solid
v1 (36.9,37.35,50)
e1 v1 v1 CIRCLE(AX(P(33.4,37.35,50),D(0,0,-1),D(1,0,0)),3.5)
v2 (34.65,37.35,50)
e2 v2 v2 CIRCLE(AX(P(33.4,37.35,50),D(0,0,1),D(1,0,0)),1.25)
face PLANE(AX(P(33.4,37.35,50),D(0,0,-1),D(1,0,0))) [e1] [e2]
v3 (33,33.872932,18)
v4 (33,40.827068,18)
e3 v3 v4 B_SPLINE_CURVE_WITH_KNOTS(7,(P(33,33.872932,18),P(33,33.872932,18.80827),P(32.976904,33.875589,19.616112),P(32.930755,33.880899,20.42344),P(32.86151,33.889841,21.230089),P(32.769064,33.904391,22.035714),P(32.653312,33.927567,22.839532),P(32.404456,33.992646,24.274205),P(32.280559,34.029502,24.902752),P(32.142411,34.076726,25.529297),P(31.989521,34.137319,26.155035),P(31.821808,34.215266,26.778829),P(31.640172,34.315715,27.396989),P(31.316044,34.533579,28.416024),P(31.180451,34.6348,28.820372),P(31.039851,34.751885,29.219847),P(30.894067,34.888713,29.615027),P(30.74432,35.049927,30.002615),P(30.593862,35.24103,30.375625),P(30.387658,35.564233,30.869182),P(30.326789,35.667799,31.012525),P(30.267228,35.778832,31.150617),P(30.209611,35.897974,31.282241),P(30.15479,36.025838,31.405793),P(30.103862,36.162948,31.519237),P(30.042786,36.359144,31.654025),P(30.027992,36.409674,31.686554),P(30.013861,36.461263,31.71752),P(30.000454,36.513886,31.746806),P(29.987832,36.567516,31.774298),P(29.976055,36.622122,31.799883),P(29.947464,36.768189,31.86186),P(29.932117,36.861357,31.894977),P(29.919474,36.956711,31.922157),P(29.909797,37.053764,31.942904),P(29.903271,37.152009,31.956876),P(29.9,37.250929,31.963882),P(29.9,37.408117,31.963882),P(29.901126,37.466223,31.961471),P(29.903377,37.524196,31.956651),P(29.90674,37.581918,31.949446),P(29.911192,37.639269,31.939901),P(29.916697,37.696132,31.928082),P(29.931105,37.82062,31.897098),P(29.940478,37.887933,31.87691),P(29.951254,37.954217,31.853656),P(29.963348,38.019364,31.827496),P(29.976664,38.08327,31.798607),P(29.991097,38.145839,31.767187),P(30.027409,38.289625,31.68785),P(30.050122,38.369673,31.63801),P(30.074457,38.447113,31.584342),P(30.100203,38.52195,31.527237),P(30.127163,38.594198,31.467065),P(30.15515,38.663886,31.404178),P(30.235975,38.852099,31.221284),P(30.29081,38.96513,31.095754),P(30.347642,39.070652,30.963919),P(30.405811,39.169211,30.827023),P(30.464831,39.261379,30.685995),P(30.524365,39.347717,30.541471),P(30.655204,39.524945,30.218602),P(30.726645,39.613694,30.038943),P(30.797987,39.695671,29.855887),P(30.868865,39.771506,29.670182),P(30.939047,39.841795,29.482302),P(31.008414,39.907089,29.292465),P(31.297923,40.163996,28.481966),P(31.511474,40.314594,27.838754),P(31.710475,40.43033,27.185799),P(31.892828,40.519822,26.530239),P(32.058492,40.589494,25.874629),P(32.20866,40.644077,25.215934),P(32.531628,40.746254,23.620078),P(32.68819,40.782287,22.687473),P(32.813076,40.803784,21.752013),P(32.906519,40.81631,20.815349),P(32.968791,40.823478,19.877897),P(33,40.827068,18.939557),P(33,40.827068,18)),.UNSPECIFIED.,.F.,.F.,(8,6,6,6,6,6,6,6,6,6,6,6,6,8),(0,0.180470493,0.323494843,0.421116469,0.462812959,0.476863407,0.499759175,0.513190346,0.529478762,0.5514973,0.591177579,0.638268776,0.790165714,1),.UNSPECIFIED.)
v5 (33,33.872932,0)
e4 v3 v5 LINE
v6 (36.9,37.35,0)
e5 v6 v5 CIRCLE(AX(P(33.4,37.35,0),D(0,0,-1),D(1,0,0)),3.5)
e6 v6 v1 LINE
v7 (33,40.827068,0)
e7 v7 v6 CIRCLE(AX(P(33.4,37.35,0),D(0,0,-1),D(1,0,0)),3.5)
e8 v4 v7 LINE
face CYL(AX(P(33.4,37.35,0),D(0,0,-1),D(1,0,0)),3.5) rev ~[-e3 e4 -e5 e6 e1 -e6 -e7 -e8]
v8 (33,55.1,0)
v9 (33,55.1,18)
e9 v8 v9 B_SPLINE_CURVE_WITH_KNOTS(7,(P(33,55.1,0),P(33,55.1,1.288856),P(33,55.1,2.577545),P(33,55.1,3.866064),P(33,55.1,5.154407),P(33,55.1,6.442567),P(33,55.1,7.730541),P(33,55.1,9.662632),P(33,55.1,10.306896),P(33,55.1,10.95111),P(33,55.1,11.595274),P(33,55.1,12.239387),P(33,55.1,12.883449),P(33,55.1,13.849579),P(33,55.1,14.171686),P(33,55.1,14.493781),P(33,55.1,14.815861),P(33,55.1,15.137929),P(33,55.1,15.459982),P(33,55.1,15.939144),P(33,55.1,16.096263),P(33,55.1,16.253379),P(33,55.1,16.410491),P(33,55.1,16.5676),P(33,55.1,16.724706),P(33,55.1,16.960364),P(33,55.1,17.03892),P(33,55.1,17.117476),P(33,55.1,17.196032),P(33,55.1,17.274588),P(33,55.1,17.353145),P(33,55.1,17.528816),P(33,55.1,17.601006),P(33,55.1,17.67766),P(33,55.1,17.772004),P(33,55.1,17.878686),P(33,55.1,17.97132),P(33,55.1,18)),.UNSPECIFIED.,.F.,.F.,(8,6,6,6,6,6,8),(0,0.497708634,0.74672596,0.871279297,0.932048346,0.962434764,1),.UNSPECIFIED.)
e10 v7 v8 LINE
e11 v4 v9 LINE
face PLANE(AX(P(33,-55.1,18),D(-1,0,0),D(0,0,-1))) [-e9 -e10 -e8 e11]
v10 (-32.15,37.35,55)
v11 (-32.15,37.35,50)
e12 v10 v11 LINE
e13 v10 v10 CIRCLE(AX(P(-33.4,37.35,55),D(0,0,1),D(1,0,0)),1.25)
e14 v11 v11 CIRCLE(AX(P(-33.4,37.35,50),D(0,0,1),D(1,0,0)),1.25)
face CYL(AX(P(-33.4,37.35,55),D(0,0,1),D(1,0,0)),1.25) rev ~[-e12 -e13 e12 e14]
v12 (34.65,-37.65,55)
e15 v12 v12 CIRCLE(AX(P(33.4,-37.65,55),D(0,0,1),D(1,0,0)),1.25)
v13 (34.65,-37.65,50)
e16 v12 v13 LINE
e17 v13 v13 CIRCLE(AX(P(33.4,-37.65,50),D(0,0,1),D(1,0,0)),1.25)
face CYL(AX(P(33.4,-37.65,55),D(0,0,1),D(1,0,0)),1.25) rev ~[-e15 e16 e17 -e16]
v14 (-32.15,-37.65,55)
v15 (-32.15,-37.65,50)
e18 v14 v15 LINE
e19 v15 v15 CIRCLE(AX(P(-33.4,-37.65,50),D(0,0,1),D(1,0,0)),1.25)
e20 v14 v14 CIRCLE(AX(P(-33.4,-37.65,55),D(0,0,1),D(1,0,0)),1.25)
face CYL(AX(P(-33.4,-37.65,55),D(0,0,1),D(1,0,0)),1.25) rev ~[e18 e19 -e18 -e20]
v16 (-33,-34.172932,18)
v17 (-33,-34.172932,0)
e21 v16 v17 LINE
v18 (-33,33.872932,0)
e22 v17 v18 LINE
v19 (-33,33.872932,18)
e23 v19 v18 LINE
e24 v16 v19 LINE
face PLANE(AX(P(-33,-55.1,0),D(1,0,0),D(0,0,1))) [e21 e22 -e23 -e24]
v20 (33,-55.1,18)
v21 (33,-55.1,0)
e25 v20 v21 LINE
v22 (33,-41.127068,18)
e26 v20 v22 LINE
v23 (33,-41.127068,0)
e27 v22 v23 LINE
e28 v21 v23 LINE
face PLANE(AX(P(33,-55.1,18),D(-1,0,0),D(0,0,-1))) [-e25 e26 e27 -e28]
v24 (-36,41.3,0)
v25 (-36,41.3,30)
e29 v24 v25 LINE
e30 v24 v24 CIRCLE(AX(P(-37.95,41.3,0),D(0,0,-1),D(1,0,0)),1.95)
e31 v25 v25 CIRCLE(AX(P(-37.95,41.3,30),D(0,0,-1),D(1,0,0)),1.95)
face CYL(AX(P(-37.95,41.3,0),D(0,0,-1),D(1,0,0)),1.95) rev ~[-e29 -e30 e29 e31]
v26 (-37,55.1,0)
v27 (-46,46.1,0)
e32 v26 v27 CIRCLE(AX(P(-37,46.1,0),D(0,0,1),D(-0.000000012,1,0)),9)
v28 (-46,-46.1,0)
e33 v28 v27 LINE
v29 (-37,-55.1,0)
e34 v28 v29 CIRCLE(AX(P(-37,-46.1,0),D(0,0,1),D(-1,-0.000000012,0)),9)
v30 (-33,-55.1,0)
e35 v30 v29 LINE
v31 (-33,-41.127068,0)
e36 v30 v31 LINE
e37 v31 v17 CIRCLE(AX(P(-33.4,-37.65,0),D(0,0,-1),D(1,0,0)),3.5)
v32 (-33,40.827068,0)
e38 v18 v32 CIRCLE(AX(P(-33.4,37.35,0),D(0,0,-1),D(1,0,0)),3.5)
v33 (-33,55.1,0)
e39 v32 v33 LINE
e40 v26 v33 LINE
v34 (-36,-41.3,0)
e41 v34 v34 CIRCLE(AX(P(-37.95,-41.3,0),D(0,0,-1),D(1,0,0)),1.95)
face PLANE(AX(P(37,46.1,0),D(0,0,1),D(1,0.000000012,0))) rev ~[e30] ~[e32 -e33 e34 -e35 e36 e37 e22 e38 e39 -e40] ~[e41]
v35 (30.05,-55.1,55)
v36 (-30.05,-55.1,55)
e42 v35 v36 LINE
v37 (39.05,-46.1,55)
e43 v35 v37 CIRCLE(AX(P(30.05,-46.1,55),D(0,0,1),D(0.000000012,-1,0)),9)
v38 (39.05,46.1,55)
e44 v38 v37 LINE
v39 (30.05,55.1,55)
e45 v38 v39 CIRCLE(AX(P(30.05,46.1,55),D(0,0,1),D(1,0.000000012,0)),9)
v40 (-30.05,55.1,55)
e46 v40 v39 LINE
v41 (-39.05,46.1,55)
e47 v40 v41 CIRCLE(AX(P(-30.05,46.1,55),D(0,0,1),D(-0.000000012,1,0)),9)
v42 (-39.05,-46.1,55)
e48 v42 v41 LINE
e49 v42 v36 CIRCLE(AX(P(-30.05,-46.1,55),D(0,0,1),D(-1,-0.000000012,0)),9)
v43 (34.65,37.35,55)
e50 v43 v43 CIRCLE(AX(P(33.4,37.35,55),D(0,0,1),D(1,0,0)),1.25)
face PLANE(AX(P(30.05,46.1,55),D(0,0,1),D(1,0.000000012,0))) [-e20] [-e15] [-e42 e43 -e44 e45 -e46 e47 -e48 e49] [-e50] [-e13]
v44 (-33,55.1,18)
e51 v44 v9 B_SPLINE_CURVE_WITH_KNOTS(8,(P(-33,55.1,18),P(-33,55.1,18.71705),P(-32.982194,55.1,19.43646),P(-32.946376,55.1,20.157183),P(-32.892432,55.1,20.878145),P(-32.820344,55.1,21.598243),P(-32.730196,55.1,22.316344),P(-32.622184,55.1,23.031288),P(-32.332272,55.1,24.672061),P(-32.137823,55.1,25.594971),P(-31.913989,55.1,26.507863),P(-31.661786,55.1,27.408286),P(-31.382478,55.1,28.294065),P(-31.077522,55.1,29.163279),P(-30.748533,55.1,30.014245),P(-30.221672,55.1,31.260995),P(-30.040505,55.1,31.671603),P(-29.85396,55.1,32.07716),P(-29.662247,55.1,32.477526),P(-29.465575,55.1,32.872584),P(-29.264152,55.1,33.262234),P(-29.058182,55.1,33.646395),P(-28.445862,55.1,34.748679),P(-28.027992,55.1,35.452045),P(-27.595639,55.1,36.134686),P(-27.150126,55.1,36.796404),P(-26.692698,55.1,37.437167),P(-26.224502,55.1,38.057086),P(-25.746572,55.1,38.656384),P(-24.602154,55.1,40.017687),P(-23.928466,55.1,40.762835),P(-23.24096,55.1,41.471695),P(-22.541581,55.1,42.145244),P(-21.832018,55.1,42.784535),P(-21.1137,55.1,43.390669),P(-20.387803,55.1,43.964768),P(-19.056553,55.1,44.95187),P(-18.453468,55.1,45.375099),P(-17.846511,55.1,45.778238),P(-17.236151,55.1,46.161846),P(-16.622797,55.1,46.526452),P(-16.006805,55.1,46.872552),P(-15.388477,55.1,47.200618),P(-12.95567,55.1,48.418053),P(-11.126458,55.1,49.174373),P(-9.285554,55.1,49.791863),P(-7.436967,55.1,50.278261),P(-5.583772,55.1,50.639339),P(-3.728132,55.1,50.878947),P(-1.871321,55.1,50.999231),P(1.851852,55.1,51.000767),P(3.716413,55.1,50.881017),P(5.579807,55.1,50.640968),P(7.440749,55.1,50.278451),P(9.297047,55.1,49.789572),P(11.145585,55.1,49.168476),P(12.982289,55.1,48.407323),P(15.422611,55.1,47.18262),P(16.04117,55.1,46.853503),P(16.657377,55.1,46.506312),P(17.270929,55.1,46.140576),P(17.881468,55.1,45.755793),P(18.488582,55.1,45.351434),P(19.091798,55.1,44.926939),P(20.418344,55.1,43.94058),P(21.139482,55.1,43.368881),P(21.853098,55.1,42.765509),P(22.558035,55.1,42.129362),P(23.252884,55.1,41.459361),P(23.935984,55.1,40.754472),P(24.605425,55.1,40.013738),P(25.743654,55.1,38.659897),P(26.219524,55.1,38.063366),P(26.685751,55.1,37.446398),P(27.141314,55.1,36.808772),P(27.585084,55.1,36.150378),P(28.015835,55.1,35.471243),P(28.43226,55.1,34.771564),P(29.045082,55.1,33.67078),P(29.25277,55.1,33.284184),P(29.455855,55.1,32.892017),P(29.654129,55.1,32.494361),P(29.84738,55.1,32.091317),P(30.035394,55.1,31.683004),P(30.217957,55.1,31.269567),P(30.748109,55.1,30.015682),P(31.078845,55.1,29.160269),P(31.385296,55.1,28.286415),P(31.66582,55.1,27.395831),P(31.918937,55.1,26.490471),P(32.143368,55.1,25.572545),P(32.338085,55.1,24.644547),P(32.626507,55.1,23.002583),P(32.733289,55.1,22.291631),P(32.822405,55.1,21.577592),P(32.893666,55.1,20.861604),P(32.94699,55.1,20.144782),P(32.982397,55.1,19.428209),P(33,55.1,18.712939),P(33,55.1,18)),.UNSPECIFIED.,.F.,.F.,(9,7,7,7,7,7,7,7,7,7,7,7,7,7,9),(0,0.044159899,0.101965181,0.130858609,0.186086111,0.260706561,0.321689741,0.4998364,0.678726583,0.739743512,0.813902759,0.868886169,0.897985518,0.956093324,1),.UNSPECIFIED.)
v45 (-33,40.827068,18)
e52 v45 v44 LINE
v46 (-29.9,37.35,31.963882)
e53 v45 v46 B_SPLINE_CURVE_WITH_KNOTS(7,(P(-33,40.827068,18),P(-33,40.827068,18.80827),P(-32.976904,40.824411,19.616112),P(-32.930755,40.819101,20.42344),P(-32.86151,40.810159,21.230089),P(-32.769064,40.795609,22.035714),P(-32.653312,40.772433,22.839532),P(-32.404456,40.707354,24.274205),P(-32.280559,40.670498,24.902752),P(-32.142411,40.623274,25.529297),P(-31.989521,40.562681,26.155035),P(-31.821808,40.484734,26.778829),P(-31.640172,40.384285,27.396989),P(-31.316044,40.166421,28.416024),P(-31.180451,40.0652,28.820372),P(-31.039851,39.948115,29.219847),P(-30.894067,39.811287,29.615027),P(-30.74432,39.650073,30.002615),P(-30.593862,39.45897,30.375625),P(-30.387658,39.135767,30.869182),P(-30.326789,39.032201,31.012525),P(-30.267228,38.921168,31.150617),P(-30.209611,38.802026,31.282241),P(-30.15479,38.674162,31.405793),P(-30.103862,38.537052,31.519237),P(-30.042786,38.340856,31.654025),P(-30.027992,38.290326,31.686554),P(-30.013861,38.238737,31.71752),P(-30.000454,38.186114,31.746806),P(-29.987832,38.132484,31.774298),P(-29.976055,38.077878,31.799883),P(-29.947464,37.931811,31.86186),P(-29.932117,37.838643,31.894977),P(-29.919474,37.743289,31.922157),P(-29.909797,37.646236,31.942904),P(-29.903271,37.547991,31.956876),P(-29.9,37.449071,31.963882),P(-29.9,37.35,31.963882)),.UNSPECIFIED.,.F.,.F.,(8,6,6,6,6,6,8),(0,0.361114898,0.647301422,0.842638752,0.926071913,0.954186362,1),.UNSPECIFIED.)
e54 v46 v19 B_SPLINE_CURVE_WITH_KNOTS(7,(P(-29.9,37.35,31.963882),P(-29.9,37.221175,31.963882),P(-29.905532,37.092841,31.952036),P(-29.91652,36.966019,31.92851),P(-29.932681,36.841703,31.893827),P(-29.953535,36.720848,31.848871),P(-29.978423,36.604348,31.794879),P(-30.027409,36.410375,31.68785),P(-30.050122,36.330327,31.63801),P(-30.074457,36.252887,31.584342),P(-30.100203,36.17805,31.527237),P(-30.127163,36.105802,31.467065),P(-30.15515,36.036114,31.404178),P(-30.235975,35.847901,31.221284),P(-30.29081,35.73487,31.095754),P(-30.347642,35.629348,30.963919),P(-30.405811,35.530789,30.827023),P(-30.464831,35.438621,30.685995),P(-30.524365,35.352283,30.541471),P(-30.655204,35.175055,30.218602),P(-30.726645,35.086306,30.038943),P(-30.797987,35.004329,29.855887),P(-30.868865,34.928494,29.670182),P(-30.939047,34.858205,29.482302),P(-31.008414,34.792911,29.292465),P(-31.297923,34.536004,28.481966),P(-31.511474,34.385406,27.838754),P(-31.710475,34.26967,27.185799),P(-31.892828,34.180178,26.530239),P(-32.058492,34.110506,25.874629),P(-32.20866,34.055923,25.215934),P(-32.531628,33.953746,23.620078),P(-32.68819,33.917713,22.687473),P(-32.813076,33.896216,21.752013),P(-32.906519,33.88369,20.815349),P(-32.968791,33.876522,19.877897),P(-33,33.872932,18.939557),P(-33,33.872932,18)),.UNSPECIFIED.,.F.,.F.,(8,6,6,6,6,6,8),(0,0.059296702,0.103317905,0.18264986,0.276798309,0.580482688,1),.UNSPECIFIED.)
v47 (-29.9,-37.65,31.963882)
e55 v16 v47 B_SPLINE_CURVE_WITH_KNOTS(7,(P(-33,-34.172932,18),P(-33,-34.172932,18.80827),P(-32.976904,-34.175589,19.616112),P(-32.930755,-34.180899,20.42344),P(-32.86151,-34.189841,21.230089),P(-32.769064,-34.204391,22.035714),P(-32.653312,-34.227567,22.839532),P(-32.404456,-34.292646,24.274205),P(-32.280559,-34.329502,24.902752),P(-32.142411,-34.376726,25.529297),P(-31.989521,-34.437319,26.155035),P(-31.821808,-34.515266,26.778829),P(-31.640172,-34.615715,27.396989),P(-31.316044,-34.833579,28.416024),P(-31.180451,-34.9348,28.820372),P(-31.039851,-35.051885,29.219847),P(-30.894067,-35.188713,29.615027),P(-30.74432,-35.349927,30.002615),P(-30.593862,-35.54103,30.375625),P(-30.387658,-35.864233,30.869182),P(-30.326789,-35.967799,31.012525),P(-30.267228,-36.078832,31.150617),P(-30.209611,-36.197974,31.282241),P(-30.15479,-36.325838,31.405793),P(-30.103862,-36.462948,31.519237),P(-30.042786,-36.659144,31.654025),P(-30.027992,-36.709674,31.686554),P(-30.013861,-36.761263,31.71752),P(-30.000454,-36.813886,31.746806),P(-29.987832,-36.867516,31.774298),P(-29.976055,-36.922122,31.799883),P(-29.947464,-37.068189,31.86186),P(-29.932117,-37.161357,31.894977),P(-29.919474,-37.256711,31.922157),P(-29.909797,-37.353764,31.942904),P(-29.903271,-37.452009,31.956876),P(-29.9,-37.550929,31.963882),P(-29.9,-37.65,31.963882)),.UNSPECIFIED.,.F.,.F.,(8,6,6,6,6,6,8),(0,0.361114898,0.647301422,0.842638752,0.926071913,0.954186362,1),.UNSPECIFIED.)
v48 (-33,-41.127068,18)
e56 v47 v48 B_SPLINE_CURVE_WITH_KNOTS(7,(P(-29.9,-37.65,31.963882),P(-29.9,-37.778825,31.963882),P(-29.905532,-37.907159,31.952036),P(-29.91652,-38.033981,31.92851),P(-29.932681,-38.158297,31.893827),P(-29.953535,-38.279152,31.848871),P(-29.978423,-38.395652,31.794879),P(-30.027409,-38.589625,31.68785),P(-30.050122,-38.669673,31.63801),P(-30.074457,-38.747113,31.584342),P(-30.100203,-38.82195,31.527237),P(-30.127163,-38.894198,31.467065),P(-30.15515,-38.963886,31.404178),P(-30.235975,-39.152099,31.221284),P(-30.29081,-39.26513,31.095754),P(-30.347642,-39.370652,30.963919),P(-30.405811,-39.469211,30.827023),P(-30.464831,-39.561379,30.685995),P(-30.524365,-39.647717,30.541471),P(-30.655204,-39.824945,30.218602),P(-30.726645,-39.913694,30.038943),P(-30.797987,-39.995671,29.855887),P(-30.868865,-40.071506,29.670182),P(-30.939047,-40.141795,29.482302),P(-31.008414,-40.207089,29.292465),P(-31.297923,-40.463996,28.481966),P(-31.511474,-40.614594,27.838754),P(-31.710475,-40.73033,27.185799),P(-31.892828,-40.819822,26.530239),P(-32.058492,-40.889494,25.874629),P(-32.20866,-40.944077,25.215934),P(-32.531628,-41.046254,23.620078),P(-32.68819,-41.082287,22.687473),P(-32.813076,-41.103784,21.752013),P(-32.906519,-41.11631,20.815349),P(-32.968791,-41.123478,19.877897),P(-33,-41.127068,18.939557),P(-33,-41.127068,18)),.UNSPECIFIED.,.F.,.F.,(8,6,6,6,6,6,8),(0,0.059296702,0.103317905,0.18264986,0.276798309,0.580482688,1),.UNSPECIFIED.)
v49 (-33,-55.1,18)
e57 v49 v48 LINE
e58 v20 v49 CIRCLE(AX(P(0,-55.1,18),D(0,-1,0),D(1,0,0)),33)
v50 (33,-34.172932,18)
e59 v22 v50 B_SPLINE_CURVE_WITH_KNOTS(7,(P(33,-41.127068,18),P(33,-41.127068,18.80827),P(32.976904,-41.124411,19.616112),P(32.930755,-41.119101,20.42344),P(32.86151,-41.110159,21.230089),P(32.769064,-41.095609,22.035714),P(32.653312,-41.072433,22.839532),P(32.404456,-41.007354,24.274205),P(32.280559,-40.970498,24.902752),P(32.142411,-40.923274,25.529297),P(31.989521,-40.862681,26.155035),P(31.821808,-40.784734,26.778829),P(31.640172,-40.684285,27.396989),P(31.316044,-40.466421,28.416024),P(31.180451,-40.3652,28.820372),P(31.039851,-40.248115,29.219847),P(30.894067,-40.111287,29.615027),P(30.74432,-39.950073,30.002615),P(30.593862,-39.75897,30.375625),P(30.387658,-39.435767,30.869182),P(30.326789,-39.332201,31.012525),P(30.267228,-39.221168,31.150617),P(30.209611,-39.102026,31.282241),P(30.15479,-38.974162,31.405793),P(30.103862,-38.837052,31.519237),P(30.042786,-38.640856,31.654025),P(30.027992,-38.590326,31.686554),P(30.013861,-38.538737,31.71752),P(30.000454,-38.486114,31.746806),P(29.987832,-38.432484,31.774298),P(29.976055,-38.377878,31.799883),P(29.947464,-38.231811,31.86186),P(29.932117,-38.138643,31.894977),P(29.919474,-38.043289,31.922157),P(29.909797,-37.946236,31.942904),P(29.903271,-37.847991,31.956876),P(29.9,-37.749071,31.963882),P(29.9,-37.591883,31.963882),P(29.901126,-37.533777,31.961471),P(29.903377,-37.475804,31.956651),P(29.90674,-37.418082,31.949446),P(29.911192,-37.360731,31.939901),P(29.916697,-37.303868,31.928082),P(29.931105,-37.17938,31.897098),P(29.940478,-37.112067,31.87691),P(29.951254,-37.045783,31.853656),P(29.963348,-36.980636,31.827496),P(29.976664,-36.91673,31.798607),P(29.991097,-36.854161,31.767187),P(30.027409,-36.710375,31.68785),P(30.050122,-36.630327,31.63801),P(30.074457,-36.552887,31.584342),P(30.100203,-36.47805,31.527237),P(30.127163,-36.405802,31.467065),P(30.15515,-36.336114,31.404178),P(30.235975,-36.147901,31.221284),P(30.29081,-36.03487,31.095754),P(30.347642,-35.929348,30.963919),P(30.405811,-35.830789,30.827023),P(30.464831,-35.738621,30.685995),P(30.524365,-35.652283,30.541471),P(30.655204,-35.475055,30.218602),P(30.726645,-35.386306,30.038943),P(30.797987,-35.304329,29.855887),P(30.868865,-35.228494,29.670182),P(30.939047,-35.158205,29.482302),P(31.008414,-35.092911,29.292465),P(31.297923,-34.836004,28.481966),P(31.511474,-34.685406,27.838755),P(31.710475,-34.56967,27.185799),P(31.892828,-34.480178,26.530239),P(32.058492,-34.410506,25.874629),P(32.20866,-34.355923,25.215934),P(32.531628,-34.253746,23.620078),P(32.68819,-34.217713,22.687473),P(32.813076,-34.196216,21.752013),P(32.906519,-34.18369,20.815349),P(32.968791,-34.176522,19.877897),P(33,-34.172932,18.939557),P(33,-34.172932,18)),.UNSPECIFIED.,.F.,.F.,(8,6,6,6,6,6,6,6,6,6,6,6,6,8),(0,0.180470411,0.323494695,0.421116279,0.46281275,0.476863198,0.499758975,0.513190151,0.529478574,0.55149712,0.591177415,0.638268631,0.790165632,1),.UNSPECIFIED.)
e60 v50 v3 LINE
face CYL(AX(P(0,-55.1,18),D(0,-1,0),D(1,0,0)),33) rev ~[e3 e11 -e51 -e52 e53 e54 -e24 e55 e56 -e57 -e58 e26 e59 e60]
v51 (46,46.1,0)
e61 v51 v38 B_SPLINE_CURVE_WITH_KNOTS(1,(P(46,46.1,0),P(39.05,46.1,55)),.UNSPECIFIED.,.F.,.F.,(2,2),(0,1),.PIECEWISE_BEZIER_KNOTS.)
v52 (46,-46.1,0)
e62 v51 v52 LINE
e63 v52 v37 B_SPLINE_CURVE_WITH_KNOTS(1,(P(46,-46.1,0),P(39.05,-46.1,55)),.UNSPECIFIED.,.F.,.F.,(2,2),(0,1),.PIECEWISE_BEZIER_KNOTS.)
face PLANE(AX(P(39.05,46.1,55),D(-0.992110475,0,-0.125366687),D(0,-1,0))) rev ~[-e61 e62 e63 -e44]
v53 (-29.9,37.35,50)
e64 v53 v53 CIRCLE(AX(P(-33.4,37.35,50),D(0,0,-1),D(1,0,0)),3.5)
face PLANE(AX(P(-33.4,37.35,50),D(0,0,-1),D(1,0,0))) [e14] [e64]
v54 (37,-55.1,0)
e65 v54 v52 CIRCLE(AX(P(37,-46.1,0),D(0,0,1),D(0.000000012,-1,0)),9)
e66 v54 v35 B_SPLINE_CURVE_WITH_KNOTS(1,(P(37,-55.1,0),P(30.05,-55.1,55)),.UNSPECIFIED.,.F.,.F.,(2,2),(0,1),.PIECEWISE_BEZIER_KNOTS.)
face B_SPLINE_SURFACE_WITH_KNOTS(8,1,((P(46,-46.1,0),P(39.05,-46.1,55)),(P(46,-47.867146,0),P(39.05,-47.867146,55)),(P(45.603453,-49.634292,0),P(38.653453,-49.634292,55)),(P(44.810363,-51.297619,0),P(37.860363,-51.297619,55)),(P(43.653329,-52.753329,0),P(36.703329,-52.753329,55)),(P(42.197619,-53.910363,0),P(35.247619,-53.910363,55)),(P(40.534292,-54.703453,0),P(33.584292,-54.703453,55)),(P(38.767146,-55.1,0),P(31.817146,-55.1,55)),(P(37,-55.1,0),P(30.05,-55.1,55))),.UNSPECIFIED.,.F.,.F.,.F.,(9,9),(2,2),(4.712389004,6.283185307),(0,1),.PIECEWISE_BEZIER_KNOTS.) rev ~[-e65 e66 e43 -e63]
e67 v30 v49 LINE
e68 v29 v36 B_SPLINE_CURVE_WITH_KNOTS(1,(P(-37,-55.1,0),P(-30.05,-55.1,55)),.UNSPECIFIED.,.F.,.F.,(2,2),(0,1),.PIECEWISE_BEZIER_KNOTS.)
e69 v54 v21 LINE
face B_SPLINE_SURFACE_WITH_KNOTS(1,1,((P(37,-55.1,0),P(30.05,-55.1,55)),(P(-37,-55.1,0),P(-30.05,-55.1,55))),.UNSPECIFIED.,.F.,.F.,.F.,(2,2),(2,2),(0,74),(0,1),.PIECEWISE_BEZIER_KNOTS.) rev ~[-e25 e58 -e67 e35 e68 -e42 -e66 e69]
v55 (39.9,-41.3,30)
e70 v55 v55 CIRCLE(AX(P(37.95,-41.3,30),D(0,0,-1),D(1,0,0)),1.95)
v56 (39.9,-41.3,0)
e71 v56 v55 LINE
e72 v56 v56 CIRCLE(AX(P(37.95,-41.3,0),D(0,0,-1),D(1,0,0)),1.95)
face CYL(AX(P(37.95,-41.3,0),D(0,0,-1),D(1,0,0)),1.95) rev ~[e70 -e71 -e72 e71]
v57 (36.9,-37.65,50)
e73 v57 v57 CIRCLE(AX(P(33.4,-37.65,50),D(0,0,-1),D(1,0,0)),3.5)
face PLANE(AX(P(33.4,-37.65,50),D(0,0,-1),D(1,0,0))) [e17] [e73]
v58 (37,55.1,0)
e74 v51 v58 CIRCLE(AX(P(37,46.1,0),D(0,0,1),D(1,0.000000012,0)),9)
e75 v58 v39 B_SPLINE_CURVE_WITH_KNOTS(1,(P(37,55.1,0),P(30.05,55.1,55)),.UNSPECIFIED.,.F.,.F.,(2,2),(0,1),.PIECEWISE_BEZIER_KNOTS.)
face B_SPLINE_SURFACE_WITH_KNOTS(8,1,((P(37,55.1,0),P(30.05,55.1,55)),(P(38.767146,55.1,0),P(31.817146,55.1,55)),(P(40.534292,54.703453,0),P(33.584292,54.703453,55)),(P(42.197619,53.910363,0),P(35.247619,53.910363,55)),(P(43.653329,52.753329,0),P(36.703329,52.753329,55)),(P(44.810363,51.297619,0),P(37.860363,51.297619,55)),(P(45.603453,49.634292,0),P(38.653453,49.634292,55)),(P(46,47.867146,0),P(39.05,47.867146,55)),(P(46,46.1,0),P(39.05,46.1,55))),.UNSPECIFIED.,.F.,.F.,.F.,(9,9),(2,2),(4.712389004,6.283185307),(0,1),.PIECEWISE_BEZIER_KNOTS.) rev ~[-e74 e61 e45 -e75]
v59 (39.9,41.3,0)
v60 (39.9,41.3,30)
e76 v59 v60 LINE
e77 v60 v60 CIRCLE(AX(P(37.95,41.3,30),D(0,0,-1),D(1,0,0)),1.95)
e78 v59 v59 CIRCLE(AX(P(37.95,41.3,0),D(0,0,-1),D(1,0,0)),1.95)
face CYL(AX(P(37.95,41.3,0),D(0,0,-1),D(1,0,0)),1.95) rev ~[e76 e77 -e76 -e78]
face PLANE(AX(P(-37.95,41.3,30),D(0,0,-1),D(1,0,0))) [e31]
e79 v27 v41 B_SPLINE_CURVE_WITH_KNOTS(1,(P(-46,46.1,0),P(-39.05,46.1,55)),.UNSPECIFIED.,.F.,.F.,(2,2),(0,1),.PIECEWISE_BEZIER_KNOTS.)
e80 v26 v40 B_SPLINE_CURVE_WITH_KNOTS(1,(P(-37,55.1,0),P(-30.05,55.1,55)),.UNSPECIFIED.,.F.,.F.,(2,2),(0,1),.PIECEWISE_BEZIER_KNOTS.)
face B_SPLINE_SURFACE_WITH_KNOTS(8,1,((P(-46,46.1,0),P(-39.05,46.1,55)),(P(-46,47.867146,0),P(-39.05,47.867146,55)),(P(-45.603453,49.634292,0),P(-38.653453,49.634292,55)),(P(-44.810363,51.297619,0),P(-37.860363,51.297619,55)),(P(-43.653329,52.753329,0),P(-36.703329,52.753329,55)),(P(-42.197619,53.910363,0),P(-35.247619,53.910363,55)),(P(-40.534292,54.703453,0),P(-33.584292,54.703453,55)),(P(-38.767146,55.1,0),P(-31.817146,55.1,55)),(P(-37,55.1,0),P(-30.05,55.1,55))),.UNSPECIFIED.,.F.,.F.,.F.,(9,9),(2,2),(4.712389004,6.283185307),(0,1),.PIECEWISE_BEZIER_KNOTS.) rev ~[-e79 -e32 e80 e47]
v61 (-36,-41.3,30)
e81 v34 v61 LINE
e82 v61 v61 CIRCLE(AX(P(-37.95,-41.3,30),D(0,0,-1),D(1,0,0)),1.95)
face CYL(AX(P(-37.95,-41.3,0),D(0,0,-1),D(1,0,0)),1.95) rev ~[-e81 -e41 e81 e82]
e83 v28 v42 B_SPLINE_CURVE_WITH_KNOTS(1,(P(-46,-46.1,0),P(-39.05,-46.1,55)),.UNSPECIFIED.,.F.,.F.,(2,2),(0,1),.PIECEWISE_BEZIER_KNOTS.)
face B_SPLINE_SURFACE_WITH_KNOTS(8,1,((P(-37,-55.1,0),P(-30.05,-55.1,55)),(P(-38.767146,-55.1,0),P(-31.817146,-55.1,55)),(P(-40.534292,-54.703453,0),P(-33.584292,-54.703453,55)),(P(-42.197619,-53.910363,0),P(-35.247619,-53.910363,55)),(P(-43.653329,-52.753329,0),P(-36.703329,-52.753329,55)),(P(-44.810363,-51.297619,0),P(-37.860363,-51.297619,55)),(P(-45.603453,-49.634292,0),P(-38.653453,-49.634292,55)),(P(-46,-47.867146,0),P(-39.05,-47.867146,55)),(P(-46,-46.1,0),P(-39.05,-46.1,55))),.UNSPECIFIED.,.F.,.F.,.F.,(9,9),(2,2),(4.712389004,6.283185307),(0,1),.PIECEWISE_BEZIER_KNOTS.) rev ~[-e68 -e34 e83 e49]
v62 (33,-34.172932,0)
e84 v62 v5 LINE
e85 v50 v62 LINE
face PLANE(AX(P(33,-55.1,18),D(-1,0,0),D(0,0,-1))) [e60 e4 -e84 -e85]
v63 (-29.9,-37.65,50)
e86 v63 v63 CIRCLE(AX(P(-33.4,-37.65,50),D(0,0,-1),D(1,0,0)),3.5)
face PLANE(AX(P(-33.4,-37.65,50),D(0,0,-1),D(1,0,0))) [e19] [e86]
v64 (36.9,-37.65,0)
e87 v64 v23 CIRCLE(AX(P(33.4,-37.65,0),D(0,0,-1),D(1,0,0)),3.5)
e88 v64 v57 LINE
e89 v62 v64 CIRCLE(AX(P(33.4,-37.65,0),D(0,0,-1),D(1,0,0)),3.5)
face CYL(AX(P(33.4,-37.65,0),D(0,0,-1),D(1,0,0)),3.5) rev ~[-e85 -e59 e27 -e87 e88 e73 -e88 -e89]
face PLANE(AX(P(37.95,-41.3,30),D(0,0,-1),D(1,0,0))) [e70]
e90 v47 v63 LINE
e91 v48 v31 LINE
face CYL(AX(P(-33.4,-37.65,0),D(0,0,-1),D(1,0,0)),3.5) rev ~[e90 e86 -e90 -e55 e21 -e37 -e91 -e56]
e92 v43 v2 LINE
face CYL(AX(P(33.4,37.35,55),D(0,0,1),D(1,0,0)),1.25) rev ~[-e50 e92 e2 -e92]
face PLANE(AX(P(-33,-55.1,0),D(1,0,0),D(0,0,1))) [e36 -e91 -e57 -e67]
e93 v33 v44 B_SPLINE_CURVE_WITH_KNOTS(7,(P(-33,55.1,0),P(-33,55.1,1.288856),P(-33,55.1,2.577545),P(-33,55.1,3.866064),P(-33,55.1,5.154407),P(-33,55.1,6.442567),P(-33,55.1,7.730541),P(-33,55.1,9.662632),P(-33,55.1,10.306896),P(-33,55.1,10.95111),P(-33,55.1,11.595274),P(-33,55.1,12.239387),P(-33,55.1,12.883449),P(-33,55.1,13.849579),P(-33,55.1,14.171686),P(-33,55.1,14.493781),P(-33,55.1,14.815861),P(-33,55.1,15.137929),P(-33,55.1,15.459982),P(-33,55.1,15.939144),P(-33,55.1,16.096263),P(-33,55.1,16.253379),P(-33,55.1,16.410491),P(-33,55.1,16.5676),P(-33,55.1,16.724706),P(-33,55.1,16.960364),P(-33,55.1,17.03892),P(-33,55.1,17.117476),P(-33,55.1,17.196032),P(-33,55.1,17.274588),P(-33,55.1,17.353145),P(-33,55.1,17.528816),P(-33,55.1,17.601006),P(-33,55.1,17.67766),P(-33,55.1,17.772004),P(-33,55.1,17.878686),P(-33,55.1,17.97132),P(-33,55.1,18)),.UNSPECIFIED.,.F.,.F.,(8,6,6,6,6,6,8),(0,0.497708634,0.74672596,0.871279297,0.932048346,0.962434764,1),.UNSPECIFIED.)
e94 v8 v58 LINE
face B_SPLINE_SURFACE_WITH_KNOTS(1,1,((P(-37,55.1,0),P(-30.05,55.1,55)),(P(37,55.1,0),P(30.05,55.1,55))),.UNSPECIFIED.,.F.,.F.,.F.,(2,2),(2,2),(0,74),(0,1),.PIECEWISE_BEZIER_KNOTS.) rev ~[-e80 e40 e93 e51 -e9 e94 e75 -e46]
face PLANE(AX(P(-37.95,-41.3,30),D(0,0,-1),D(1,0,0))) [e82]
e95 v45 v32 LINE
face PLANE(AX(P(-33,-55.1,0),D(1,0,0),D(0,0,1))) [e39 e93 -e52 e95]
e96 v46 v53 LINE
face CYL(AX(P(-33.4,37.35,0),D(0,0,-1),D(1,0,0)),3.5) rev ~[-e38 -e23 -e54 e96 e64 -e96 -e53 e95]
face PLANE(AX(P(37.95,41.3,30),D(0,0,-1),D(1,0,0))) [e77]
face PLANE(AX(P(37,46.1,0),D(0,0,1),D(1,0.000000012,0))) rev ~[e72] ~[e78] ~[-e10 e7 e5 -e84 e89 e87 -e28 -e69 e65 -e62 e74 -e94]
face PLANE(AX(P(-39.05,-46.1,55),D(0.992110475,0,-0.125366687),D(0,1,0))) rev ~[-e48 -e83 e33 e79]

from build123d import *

# Parameters (mm, degrees)
POCKET_DEPTH    = 110.201
SKETCH003_R     = 1.95
POCKET001_DEPTH = 30
SKETCH004_R     = 1.25
POCKET002_DEPTH = 55.001
SKETCH005_R     = 3.5
POCKET003_DEPTH = 50


with BuildPart() as part:
    # Sketch → Loft section 0
    with BuildSketch(Plane.XY):
        with BuildLine():
            Line((-37, 55.1), (37, 55.1))
            ThreePointArc((46, 46.1), (43.363961, 52.463961), (37, 55.1))
            Line((46, 46.1), (46, -46.1))
            ThreePointArc((37, -55.1), (43.363961, -52.463961), (46, -46.1))
            Line((37, -55.1), (-37, -55.1))
            ThreePointArc((-46, -46.1), (-43.363961, -52.463961), (-37, -55.1))
            Line((-46, -46.1), (-46, 46.1))
            ThreePointArc((-37, 55.1), (-43.363961, 52.463961), (-46, 46.1))
        make_face()
    # Sketch001 → Loft section 1
    with BuildSketch(Plane.XY.offset(55)):
        with BuildLine():
            Line((-30.05, 55.1), (30.05, 55.1))
            ThreePointArc((39.05, 46.1), (36.413961, 52.463961), (30.05, 55.1))
            Line((39.05, 46.1), (39.05, -46.1))
            ThreePointArc((30.05, -55.1), (36.413961, -52.463961), (39.05, -46.1))
            Line((30.05, -55.1), (-30.05, -55.1))
            ThreePointArc((-39.05, -46.1), (-36.413961, -52.463961), (-30.05, -55.1))
            Line((-39.05, -46.1), (-39.05, 46.1))
            ThreePointArc((-30.05, 55.1), (-36.413961, 52.463961), (-39.05, 46.1))
        make_face()
    loft()

    # Sketch002 (on Face5 of BaseFeature) → Pocket (cut, through all)
    with BuildSketch(Plane.XZ.offset(55.1)):
        with BuildLine():
            Line((33, 18), (33, 0))
            Line((33, 0), (-33, 0))
            Line((-33, 0), (-33, 18))
            ThreePointArc((33, 18), (0, 51), (-33, 18))
        make_face()
    extrude(amount=-POCKET_DEPTH, mode=Mode.SUBTRACT)

    # Sketch003 (on Face5 of Pocket) → Pocket001 (cut)
    with BuildSketch(Plane(origin=(0, 0, 0), x_dir=(1, 0, 0), z_dir=(0, 0, -1))):
        with Locations((-37.95, 41.3)):
            Circle(SKETCH003_R)
        with Locations((-37.95, -41.3)):
            Circle(SKETCH003_R)
        with Locations((37.95, -41.3)):
            Circle(SKETCH003_R)
        with Locations((37.95, 41.3)):
            Circle(SKETCH003_R)
    extrude(amount=-POCKET001_DEPTH, mode=Mode.SUBTRACT)

    # Sketch004 (on Face3 of Pocket001) → Pocket002 (cut, through all)
    with BuildSketch(Plane.XY.offset(55)):
        with Locations((-33.4, 37.35)):
            Circle(SKETCH004_R)
        with Locations((33.4, 37.35)):
            Circle(SKETCH004_R)
        with Locations((33.4, -37.65)):
            Circle(SKETCH004_R)
        with Locations((-33.4, -37.65)):
            Circle(SKETCH004_R)
    extrude(amount=-POCKET002_DEPTH, mode=Mode.SUBTRACT)

    # Sketch005 (on Face9 of Pocket002) → Pocket003 (cut)
    with BuildSketch(Plane(origin=(0, 0, 0), x_dir=(1, 0, 0), z_dir=(0, 0, -1))):
        with Locations((-33.4, -37.35)):
            Circle(SKETCH005_R)
        with Locations((33.4, -37.35)):
            Circle(SKETCH005_R)
        with Locations((-33.4, 37.65)):
            Circle(SKETCH005_R)
        with Locations((33.4, 37.65)):
            Circle(SKETCH005_R)
    extrude(amount=-POCKET003_DEPTH, mode=Mode.SUBTRACT)


solid = part.part
